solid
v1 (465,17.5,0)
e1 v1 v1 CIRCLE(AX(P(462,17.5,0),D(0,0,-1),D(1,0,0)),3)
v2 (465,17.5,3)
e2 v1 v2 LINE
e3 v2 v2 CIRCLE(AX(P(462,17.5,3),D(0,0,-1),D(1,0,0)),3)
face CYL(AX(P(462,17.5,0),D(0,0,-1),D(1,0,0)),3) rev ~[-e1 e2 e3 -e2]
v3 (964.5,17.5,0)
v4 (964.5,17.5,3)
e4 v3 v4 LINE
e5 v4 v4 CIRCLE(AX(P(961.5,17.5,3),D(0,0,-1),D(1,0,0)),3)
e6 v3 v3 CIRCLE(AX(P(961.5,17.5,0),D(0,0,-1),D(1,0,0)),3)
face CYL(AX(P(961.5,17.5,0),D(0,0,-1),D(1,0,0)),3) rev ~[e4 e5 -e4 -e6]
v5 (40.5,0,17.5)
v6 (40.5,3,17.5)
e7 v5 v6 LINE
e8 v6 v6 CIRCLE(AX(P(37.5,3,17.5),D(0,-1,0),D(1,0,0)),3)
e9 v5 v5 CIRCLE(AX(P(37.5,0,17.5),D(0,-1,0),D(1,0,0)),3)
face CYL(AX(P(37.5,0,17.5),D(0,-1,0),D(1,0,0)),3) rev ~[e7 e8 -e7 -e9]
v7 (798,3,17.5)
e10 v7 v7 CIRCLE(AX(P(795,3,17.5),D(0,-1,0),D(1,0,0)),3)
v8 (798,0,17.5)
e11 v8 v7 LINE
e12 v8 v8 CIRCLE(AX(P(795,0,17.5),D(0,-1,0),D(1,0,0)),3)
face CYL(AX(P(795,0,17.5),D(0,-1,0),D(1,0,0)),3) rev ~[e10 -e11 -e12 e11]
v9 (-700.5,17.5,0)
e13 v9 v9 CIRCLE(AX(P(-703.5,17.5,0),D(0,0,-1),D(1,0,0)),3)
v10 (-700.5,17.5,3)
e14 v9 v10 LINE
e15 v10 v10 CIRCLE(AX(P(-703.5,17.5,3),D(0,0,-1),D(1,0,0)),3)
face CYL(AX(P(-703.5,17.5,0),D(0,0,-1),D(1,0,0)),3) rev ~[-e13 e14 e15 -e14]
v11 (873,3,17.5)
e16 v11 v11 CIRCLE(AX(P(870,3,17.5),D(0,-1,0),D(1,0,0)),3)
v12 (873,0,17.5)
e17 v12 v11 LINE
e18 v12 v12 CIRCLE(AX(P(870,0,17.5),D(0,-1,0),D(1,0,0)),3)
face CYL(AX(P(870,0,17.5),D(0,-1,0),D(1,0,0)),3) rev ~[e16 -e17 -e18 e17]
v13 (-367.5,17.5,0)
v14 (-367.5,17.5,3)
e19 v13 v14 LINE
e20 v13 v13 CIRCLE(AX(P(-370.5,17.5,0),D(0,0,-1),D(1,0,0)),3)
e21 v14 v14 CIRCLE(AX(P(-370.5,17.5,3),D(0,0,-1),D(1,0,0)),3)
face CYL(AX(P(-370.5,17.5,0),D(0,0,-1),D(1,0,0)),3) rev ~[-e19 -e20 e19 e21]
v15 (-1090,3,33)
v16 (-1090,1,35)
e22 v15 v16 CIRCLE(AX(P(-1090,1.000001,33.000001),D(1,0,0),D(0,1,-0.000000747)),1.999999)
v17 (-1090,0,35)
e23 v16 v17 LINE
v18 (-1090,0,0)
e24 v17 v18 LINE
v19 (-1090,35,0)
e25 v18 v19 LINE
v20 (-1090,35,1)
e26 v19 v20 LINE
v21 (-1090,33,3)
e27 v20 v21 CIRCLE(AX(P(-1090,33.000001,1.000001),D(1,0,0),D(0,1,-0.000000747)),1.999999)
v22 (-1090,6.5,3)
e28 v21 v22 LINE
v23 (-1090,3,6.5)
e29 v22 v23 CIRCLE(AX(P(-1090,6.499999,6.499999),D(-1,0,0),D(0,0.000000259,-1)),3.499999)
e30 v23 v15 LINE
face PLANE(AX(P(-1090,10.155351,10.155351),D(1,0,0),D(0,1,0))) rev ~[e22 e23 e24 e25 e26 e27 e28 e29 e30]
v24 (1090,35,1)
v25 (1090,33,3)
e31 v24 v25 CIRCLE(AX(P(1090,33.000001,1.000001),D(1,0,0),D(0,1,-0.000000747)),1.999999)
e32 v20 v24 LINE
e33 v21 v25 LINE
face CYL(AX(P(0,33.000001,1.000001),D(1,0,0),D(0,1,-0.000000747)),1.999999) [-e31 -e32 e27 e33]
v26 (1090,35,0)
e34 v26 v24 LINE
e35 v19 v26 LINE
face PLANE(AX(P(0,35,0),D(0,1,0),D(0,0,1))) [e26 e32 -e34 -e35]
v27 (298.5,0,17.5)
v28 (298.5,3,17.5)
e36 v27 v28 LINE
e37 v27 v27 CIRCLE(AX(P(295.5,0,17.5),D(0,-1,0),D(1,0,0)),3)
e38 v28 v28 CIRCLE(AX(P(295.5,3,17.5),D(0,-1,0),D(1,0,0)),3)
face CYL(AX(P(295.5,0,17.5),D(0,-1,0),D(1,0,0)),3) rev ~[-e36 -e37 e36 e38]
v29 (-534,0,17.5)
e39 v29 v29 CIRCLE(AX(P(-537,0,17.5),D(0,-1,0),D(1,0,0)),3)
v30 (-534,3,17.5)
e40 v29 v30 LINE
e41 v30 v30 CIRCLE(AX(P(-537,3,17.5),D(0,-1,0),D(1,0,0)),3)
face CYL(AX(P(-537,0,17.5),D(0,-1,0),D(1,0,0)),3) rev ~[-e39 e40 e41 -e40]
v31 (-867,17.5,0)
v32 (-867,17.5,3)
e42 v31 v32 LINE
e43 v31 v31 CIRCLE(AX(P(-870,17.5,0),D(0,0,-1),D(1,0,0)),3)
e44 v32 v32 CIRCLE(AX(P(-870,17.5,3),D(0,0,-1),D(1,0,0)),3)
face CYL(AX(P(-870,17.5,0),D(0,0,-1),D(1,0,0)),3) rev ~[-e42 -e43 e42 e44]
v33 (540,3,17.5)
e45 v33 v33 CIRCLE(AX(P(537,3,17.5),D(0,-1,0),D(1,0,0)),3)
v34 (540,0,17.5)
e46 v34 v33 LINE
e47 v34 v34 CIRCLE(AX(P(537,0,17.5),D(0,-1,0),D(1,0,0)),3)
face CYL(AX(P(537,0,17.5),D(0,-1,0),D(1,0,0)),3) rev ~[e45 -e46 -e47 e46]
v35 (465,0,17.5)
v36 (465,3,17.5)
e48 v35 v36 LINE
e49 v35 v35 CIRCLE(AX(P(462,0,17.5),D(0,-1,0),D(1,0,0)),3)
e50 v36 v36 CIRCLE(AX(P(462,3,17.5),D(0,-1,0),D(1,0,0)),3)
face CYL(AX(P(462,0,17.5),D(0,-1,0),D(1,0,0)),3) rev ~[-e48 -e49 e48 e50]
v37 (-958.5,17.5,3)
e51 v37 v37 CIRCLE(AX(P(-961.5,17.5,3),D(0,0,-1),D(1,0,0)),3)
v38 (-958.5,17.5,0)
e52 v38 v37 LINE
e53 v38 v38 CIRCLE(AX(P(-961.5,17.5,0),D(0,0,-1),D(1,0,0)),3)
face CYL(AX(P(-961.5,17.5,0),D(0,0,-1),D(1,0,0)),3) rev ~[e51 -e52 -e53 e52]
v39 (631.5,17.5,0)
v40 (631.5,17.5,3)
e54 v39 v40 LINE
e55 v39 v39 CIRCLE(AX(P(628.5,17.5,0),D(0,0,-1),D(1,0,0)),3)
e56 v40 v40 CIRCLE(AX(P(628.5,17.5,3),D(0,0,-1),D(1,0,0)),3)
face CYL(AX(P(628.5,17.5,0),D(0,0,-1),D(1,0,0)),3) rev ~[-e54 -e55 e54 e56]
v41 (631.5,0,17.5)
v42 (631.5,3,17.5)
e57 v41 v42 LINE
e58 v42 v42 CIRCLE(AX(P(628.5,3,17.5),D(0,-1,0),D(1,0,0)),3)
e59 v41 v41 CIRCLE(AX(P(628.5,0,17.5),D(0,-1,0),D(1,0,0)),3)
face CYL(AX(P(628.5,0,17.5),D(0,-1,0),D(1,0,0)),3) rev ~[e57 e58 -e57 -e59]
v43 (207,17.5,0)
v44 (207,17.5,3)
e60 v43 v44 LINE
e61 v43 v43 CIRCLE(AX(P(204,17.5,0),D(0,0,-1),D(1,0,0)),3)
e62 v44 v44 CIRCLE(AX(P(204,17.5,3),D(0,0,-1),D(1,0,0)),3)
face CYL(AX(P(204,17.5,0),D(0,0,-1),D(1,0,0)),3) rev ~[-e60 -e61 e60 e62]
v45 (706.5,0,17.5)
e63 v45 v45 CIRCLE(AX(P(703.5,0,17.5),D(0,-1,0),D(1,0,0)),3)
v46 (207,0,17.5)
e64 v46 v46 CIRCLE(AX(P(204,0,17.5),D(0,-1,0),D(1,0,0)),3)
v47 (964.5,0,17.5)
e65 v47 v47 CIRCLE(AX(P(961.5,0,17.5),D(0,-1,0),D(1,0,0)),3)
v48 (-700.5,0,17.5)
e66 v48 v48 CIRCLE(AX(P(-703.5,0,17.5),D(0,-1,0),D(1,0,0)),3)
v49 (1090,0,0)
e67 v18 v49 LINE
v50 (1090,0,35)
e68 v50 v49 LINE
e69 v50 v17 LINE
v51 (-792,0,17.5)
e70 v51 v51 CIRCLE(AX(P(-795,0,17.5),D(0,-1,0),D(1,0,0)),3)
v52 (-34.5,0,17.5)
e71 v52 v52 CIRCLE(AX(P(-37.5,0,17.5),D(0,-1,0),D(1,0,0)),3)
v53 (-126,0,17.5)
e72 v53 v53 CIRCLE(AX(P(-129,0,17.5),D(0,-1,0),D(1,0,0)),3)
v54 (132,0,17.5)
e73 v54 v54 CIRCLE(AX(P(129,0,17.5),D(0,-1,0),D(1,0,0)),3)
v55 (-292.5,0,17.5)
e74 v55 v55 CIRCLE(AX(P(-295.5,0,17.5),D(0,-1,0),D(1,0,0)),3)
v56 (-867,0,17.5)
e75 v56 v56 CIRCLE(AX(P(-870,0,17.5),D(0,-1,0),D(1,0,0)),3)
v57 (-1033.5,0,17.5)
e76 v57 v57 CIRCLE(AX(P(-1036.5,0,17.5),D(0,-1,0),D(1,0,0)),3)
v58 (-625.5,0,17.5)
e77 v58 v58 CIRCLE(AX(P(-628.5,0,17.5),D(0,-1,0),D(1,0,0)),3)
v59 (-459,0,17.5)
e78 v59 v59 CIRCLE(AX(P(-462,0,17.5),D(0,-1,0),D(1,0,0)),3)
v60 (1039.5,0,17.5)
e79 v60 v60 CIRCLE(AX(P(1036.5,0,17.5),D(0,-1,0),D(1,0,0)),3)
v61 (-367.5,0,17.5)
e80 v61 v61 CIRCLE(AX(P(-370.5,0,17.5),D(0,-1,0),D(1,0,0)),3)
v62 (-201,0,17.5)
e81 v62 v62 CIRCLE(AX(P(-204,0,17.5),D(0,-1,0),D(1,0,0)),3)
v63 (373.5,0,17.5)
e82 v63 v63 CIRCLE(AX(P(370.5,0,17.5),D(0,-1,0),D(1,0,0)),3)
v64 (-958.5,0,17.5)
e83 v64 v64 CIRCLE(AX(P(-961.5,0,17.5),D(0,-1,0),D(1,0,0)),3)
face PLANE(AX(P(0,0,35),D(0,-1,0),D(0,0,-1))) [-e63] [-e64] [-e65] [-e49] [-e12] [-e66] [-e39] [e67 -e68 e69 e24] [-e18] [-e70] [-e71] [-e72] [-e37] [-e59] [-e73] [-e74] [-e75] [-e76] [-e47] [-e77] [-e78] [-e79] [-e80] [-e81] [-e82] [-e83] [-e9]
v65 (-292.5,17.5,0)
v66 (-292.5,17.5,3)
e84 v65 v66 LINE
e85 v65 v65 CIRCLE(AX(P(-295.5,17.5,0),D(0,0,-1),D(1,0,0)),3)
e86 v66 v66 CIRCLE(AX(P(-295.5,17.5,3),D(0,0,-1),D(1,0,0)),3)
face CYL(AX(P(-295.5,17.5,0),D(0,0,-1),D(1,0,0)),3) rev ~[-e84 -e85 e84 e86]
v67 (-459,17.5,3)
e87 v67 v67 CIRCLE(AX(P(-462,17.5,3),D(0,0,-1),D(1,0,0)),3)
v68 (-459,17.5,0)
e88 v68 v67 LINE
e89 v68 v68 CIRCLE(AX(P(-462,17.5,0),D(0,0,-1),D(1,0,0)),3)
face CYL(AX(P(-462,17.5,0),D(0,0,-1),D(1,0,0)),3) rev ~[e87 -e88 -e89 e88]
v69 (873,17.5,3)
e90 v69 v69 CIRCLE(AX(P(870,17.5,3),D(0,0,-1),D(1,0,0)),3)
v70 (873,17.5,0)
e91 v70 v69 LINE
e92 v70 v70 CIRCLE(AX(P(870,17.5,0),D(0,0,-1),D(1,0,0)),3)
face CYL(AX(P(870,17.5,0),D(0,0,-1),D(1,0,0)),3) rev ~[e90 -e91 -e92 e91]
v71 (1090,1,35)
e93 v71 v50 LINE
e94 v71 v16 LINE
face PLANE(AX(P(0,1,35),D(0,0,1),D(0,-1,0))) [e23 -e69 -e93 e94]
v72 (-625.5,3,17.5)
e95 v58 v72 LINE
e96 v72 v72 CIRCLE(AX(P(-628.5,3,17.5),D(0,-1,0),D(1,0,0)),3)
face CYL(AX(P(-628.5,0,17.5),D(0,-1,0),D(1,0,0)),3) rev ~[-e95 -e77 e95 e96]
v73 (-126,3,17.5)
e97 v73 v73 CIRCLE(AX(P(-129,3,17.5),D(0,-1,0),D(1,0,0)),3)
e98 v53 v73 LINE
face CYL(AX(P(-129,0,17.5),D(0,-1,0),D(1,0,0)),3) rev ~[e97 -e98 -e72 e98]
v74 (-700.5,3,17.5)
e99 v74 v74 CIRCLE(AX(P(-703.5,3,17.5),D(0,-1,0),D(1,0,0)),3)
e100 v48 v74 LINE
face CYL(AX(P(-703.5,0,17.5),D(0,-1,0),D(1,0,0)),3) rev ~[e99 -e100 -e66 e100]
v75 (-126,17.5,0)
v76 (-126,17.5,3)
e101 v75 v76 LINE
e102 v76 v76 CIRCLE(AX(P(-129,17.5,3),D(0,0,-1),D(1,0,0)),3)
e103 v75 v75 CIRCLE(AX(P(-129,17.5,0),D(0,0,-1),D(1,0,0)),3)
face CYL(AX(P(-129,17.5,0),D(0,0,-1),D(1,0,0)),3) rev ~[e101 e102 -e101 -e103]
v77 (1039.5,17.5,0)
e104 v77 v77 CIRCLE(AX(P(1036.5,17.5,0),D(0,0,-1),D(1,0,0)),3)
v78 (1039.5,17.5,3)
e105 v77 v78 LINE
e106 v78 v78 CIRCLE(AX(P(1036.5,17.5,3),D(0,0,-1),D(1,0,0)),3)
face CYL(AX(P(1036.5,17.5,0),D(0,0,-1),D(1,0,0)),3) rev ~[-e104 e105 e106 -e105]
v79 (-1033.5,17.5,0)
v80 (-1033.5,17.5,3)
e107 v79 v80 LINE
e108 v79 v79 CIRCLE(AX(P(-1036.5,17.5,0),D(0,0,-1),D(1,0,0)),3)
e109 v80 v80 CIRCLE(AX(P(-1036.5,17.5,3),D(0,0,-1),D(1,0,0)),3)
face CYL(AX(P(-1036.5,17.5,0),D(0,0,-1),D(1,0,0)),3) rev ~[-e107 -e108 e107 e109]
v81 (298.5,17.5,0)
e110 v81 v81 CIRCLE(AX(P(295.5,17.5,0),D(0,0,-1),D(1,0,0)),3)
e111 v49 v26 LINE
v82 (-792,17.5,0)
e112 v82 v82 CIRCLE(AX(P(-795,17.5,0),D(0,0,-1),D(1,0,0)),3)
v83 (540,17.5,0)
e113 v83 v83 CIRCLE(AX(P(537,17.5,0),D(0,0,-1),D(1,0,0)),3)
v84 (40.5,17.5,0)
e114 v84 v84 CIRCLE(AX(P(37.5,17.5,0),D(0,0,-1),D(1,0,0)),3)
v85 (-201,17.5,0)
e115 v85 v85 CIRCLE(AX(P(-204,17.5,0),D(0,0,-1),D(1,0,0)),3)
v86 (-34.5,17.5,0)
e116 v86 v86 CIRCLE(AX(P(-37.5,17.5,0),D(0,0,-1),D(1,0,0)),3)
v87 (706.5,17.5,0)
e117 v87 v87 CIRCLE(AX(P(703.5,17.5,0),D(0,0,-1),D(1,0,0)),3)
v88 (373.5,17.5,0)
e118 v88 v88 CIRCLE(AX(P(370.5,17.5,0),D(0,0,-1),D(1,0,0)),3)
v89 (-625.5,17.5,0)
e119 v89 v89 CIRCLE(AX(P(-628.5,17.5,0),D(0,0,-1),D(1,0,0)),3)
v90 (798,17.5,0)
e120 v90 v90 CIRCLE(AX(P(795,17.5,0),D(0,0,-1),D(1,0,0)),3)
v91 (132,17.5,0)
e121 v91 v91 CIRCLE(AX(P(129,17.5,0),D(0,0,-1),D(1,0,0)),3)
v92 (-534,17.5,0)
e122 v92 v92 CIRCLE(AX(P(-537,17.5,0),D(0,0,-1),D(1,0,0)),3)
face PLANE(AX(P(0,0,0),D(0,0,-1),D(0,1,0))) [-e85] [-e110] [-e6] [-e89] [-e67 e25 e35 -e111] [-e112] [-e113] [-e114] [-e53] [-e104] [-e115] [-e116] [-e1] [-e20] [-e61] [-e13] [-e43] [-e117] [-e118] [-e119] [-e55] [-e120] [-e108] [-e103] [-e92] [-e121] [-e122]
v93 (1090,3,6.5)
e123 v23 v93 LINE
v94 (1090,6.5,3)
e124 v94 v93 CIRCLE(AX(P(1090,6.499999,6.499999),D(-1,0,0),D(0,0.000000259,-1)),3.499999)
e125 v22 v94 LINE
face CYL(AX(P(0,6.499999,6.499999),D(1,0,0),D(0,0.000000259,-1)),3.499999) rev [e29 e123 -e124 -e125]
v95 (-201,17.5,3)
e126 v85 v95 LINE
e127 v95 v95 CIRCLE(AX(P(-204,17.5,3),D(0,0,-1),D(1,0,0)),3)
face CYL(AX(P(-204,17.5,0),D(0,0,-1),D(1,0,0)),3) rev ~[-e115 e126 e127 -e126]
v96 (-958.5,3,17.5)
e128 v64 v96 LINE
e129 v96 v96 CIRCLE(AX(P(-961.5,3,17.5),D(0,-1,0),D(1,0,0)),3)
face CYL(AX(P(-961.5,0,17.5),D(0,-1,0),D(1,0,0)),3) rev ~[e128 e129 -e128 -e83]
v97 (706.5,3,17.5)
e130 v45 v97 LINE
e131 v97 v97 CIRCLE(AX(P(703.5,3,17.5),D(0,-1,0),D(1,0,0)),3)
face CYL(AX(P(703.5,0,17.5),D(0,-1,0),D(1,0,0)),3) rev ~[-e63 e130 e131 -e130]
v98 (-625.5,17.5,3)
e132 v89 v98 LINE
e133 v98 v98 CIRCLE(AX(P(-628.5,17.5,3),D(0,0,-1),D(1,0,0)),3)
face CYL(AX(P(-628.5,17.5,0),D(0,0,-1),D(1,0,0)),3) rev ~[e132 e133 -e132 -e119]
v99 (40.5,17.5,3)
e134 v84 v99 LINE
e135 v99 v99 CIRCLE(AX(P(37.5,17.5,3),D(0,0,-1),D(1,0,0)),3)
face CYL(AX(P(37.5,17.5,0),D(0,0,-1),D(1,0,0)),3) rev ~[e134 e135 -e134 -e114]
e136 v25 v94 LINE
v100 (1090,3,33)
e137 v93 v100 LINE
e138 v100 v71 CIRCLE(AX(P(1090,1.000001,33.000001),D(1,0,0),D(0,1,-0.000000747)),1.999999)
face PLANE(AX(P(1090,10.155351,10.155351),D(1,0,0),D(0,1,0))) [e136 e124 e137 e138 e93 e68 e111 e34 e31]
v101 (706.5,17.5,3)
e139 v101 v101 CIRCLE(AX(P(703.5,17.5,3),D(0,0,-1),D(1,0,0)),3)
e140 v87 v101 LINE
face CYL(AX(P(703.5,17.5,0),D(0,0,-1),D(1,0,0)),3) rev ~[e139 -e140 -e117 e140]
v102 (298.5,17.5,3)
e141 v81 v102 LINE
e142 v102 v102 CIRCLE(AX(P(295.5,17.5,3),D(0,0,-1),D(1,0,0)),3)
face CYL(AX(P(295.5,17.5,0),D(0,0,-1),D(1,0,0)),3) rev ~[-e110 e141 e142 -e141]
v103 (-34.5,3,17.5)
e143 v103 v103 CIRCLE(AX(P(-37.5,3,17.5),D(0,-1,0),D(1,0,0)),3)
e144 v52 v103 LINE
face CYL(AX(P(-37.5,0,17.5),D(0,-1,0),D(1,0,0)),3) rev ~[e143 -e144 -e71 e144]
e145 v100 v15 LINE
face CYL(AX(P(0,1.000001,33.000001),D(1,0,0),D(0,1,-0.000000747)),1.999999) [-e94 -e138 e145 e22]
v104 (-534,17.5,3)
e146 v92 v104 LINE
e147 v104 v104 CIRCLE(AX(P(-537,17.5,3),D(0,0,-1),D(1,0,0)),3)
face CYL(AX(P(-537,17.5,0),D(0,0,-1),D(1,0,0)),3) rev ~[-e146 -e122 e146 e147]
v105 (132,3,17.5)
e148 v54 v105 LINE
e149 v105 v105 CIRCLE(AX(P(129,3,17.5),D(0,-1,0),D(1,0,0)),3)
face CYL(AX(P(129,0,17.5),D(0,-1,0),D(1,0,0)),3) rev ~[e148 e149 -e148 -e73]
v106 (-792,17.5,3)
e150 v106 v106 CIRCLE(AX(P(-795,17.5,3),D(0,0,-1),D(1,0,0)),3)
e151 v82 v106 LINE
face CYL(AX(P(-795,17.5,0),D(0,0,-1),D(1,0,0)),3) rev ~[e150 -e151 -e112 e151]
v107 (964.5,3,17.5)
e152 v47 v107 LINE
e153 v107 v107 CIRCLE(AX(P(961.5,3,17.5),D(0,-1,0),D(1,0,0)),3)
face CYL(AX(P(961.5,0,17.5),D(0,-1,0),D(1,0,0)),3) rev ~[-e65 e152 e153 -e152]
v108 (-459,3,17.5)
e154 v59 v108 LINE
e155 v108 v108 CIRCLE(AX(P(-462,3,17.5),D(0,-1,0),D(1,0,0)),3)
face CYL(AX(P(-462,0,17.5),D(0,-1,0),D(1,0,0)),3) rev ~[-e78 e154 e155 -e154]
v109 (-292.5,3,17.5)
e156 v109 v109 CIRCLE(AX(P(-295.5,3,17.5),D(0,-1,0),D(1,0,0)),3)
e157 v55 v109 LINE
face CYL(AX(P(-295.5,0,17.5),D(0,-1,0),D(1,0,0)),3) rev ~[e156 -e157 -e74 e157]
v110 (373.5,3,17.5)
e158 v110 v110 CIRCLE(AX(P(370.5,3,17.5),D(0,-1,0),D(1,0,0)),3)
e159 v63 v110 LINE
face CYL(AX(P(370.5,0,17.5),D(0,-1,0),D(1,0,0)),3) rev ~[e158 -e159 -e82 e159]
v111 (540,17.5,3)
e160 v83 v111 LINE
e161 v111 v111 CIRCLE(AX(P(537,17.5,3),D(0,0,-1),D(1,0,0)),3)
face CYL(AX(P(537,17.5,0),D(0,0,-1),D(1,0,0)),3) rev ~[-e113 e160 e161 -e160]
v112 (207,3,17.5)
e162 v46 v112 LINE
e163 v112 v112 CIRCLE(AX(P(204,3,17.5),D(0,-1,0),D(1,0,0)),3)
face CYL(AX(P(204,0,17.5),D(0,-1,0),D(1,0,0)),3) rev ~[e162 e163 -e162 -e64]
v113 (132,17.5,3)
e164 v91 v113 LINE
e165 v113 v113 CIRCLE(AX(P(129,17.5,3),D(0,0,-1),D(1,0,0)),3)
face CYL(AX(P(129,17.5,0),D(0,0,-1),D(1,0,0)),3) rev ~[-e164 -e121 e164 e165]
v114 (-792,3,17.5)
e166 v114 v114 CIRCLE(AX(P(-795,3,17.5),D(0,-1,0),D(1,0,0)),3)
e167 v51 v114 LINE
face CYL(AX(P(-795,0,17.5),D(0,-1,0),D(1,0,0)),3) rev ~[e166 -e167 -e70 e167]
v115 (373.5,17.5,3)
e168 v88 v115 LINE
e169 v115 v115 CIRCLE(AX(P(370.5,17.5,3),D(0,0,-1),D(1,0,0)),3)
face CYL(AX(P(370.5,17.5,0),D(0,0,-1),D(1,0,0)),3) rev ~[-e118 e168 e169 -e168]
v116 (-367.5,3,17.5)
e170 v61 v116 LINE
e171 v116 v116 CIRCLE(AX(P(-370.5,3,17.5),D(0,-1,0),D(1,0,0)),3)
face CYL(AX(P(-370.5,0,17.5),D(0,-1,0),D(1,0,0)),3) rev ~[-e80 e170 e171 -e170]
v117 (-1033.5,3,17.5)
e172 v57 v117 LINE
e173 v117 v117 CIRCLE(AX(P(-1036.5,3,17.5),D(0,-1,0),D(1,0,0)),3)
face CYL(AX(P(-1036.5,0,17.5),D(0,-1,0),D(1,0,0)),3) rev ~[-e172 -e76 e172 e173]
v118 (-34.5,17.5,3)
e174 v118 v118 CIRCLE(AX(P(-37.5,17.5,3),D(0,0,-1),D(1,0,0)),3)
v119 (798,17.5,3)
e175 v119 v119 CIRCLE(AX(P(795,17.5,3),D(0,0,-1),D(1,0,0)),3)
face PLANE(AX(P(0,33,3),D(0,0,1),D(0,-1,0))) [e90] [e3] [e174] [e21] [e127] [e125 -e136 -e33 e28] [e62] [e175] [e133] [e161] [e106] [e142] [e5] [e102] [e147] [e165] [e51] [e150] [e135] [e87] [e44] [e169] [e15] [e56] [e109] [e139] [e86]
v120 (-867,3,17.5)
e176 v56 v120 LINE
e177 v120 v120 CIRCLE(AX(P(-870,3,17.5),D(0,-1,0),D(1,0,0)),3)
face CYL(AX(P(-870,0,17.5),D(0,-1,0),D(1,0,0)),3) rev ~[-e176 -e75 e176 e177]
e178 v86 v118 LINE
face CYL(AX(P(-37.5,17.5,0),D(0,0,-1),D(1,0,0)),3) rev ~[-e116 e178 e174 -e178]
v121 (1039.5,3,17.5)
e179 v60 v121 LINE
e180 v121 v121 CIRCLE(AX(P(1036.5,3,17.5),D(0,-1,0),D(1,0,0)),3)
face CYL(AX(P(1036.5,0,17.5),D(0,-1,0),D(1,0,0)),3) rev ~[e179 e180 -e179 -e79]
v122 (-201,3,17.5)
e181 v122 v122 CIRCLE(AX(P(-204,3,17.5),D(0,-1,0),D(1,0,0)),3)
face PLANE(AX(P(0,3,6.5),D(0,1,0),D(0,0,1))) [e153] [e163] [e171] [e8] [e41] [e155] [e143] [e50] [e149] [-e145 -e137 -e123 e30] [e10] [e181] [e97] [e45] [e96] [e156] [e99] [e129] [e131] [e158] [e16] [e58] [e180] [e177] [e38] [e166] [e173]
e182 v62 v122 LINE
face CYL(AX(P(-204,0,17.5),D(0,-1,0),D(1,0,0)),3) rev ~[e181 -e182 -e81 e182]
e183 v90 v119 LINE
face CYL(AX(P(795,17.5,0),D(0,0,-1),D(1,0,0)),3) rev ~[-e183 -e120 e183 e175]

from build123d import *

# Parameters (mm, degrees)
F1_DEPTH      = 1090
F1_DEPTH_BACK = 1090
F2_R          = 3
F3_DEPTH      = 25
F4_R          = 3
F5_DEPTH      = 25


with BuildPart() as f1:
    # F0 (on Right) → F1 (new body, two sides)
    with BuildSketch(Plane.YZ) as f1_sk:
        with BuildLine():
            Line((0, 35), (0, 0))
            Line((0, 0), (35, 0))
            Line((35, 0), (35, 1))
            ThreePointArc((35, 1), (34.414214, 2.414214), (33, 3))
            Line((33, 3), (6.5, 3))
            ThreePointArc((6.5, 3), (4.025126, 4.025126), (3, 6.5))
            Line((3, 6.5), (3, 33))
            ThreePointArc((3, 33), (2.414214, 34.414214), (1, 35))
            Line((1, 35), (0, 35))
        make_face()
    extrude(amount=F1_DEPTH)
    extrude(f1_sk.sketch, amount=-F1_DEPTH_BACK)

    # F2 (on face) → F3 (cut)
    with BuildSketch(Plane.XZ):
        with Locations((1128, 17.5)):
            Circle(F2_R)
        with Locations((1203, 17.5)):
            Circle(F2_R)
        with Locations((1294.5, 17.5)):
            Circle(F2_R)
        with Locations((1369.5, 17.5)):
            Circle(F2_R)
        with Locations((1461, 17.5)):
            Circle(F2_R)
        with Locations((1536, 17.5)):
            Circle(F2_R)
        with Locations((1627.5, 17.5)):
            Circle(F2_R)
        with Locations((1702.5, 17.5)):
            Circle(F2_R)
        with Locations((1794, 17.5)):
            Circle(F2_R)
        with Locations((1869, 17.5)):
            Circle(F2_R)
        with Locations((1960.5, 17.5)):
            Circle(F2_R)
        with Locations((2035.5, 17.5)):
            Circle(F2_R)
        with Locations((2127, 17.5)):
            Circle(F2_R)
        with Locations((2202, 17.5)):
            Circle(F2_R)
        with Locations((-961.5, 17.5)):
            Circle(F2_R)
        with Locations((-870, 17.5)):
            Circle(F2_R)
        with Locations((-795, 17.5)):
            Circle(F2_R)
        with Locations((-703.5, 17.5)):
            Circle(F2_R)
        with Locations((-628.5, 17.5)):
            Circle(F2_R)
        with Locations((-537, 17.5)):
            Circle(F2_R)
        with Locations((-462, 17.5)):
            Circle(F2_R)
        with Locations((-370.5, 17.5)):
            Circle(F2_R)
        with Locations((-295.5, 17.5)):
            Circle(F2_R)
        with Locations((-204, 17.5)):
            Circle(F2_R)
        with Locations((-129, 17.5)):
            Circle(F2_R)
        with Locations((-37.5, 17.5)):
            Circle(F2_R)
        with Locations((37.5, 17.5)):
            Circle(F2_R)
        with Locations((129, 17.5)):
            Circle(F2_R)
        with Locations((204, 17.5)):
            Circle(F2_R)
        with Locations((295.5, 17.5)):
            Circle(F2_R)
        with Locations((370.5, 17.5)):
            Circle(F2_R)
        with Locations((462, 17.5)):
            Circle(F2_R)
        with Locations((537, 17.5)):
            Circle(F2_R)
        with Locations((628.5, 17.5)):
            Circle(F2_R)
        with Locations((703.5, 17.5)):
            Circle(F2_R)
        with Locations((795, 17.5)):
            Circle(F2_R)
        with Locations((870, 17.5)):
            Circle(F2_R)
        with Locations((961.5, 17.5)):
            Circle(F2_R)
        with Locations((1036.5, 17.5)):
            Circle(F2_R)
        with Locations((-1036.5, 17.5)):
            Circle(F2_R)
    extrude(amount=-F3_DEPTH, mode=Mode.SUBTRACT)

    # F4 (on face) → F5 (cut)
    with BuildSketch(Plane(origin=(0, 0, 0), x_dir=(1, 0, 0), z_dir=(0, 0, -1))):
        with Locations((-1036.5, -17.5)):
            Circle(F4_R)
        with Locations((-961.5, -17.5)):
            Circle(F4_R)
        with Locations((-870, -17.5)):
            Circle(F4_R)
        with Locations((-795, -17.5)):
            Circle(F4_R)
        with Locations((-703.5, -17.5)):
            Circle(F4_R)
        with Locations((-628.5, -17.5)):
            Circle(F4_R)
        with Locations((-537, -17.5)):
            Circle(F4_R)
        with Locations((-462, -17.5)):
            Circle(F4_R)
        with Locations((-370.5, -17.5)):
            Circle(F4_R)
        with Locations((-295.5, -17.5)):
            Circle(F4_R)
        with Locations((-204, -17.5)):
            Circle(F4_R)
        with Locations((-129, -17.5)):
            Circle(F4_R)
        with Locations((-37.5, -17.5)):
            Circle(F4_R)
        with Locations((37.5, -17.5)):
            Circle(F4_R)
        with Locations((129, -17.5)):
            Circle(F4_R)
        with Locations((204, -17.5)):
            Circle(F4_R)
        with Locations((295.5, -17.5)):
            Circle(F4_R)
        with Locations((370.5, -17.5)):
            Circle(F4_R)
        with Locations((462, -17.5)):
            Circle(F4_R)
        with Locations((537, -17.5)):
            Circle(F4_R)
        with Locations((628.5, -17.5)):
            Circle(F4_R)
        with Locations((703.5, -17.5)):
            Circle(F4_R)
        with Locations((795, -17.5)):
            Circle(F4_R)
        with Locations((870, -17.5)):
            Circle(F4_R)
        with Locations((961.5, -17.5)):
            Circle(F4_R)
        with Locations((1036.5, -17.5)):
            Circle(F4_R)
        with Locations((1128, -17.5)):
            Circle(F4_R)
        with Locations((1203, -17.5)):
            Circle(F4_R)
        with Locations((1294.5, -17.5)):
            Circle(F4_R)
        with Locations((1369.5, -17.5)):
            Circle(F4_R)
        with Locations((1461, -17.5)):
            Circle(F4_R)
        with Locations((1536, -17.5)):
            Circle(F4_R)
        with Locations((1627.5, -17.5)):
            Circle(F4_R)
        with Locations((1702.5, -17.5)):
            Circle(F4_R)
        with Locations((1794, -17.5)):
            Circle(F4_R)
        with Locations((1869, -17.5)):
            Circle(F4_R)
        with Locations((1960.5, -17.5)):
            Circle(F4_R)
        with Locations((2035.5, -17.5)):
            Circle(F4_R)
        with Locations((2127, -17.5)):
            Circle(F4_R)
        with Locations((2202, -17.5)):
            Circle(F4_R)
    extrude(amount=-F5_DEPTH, mode=Mode.SUBTRACT)


solid = f1.part
